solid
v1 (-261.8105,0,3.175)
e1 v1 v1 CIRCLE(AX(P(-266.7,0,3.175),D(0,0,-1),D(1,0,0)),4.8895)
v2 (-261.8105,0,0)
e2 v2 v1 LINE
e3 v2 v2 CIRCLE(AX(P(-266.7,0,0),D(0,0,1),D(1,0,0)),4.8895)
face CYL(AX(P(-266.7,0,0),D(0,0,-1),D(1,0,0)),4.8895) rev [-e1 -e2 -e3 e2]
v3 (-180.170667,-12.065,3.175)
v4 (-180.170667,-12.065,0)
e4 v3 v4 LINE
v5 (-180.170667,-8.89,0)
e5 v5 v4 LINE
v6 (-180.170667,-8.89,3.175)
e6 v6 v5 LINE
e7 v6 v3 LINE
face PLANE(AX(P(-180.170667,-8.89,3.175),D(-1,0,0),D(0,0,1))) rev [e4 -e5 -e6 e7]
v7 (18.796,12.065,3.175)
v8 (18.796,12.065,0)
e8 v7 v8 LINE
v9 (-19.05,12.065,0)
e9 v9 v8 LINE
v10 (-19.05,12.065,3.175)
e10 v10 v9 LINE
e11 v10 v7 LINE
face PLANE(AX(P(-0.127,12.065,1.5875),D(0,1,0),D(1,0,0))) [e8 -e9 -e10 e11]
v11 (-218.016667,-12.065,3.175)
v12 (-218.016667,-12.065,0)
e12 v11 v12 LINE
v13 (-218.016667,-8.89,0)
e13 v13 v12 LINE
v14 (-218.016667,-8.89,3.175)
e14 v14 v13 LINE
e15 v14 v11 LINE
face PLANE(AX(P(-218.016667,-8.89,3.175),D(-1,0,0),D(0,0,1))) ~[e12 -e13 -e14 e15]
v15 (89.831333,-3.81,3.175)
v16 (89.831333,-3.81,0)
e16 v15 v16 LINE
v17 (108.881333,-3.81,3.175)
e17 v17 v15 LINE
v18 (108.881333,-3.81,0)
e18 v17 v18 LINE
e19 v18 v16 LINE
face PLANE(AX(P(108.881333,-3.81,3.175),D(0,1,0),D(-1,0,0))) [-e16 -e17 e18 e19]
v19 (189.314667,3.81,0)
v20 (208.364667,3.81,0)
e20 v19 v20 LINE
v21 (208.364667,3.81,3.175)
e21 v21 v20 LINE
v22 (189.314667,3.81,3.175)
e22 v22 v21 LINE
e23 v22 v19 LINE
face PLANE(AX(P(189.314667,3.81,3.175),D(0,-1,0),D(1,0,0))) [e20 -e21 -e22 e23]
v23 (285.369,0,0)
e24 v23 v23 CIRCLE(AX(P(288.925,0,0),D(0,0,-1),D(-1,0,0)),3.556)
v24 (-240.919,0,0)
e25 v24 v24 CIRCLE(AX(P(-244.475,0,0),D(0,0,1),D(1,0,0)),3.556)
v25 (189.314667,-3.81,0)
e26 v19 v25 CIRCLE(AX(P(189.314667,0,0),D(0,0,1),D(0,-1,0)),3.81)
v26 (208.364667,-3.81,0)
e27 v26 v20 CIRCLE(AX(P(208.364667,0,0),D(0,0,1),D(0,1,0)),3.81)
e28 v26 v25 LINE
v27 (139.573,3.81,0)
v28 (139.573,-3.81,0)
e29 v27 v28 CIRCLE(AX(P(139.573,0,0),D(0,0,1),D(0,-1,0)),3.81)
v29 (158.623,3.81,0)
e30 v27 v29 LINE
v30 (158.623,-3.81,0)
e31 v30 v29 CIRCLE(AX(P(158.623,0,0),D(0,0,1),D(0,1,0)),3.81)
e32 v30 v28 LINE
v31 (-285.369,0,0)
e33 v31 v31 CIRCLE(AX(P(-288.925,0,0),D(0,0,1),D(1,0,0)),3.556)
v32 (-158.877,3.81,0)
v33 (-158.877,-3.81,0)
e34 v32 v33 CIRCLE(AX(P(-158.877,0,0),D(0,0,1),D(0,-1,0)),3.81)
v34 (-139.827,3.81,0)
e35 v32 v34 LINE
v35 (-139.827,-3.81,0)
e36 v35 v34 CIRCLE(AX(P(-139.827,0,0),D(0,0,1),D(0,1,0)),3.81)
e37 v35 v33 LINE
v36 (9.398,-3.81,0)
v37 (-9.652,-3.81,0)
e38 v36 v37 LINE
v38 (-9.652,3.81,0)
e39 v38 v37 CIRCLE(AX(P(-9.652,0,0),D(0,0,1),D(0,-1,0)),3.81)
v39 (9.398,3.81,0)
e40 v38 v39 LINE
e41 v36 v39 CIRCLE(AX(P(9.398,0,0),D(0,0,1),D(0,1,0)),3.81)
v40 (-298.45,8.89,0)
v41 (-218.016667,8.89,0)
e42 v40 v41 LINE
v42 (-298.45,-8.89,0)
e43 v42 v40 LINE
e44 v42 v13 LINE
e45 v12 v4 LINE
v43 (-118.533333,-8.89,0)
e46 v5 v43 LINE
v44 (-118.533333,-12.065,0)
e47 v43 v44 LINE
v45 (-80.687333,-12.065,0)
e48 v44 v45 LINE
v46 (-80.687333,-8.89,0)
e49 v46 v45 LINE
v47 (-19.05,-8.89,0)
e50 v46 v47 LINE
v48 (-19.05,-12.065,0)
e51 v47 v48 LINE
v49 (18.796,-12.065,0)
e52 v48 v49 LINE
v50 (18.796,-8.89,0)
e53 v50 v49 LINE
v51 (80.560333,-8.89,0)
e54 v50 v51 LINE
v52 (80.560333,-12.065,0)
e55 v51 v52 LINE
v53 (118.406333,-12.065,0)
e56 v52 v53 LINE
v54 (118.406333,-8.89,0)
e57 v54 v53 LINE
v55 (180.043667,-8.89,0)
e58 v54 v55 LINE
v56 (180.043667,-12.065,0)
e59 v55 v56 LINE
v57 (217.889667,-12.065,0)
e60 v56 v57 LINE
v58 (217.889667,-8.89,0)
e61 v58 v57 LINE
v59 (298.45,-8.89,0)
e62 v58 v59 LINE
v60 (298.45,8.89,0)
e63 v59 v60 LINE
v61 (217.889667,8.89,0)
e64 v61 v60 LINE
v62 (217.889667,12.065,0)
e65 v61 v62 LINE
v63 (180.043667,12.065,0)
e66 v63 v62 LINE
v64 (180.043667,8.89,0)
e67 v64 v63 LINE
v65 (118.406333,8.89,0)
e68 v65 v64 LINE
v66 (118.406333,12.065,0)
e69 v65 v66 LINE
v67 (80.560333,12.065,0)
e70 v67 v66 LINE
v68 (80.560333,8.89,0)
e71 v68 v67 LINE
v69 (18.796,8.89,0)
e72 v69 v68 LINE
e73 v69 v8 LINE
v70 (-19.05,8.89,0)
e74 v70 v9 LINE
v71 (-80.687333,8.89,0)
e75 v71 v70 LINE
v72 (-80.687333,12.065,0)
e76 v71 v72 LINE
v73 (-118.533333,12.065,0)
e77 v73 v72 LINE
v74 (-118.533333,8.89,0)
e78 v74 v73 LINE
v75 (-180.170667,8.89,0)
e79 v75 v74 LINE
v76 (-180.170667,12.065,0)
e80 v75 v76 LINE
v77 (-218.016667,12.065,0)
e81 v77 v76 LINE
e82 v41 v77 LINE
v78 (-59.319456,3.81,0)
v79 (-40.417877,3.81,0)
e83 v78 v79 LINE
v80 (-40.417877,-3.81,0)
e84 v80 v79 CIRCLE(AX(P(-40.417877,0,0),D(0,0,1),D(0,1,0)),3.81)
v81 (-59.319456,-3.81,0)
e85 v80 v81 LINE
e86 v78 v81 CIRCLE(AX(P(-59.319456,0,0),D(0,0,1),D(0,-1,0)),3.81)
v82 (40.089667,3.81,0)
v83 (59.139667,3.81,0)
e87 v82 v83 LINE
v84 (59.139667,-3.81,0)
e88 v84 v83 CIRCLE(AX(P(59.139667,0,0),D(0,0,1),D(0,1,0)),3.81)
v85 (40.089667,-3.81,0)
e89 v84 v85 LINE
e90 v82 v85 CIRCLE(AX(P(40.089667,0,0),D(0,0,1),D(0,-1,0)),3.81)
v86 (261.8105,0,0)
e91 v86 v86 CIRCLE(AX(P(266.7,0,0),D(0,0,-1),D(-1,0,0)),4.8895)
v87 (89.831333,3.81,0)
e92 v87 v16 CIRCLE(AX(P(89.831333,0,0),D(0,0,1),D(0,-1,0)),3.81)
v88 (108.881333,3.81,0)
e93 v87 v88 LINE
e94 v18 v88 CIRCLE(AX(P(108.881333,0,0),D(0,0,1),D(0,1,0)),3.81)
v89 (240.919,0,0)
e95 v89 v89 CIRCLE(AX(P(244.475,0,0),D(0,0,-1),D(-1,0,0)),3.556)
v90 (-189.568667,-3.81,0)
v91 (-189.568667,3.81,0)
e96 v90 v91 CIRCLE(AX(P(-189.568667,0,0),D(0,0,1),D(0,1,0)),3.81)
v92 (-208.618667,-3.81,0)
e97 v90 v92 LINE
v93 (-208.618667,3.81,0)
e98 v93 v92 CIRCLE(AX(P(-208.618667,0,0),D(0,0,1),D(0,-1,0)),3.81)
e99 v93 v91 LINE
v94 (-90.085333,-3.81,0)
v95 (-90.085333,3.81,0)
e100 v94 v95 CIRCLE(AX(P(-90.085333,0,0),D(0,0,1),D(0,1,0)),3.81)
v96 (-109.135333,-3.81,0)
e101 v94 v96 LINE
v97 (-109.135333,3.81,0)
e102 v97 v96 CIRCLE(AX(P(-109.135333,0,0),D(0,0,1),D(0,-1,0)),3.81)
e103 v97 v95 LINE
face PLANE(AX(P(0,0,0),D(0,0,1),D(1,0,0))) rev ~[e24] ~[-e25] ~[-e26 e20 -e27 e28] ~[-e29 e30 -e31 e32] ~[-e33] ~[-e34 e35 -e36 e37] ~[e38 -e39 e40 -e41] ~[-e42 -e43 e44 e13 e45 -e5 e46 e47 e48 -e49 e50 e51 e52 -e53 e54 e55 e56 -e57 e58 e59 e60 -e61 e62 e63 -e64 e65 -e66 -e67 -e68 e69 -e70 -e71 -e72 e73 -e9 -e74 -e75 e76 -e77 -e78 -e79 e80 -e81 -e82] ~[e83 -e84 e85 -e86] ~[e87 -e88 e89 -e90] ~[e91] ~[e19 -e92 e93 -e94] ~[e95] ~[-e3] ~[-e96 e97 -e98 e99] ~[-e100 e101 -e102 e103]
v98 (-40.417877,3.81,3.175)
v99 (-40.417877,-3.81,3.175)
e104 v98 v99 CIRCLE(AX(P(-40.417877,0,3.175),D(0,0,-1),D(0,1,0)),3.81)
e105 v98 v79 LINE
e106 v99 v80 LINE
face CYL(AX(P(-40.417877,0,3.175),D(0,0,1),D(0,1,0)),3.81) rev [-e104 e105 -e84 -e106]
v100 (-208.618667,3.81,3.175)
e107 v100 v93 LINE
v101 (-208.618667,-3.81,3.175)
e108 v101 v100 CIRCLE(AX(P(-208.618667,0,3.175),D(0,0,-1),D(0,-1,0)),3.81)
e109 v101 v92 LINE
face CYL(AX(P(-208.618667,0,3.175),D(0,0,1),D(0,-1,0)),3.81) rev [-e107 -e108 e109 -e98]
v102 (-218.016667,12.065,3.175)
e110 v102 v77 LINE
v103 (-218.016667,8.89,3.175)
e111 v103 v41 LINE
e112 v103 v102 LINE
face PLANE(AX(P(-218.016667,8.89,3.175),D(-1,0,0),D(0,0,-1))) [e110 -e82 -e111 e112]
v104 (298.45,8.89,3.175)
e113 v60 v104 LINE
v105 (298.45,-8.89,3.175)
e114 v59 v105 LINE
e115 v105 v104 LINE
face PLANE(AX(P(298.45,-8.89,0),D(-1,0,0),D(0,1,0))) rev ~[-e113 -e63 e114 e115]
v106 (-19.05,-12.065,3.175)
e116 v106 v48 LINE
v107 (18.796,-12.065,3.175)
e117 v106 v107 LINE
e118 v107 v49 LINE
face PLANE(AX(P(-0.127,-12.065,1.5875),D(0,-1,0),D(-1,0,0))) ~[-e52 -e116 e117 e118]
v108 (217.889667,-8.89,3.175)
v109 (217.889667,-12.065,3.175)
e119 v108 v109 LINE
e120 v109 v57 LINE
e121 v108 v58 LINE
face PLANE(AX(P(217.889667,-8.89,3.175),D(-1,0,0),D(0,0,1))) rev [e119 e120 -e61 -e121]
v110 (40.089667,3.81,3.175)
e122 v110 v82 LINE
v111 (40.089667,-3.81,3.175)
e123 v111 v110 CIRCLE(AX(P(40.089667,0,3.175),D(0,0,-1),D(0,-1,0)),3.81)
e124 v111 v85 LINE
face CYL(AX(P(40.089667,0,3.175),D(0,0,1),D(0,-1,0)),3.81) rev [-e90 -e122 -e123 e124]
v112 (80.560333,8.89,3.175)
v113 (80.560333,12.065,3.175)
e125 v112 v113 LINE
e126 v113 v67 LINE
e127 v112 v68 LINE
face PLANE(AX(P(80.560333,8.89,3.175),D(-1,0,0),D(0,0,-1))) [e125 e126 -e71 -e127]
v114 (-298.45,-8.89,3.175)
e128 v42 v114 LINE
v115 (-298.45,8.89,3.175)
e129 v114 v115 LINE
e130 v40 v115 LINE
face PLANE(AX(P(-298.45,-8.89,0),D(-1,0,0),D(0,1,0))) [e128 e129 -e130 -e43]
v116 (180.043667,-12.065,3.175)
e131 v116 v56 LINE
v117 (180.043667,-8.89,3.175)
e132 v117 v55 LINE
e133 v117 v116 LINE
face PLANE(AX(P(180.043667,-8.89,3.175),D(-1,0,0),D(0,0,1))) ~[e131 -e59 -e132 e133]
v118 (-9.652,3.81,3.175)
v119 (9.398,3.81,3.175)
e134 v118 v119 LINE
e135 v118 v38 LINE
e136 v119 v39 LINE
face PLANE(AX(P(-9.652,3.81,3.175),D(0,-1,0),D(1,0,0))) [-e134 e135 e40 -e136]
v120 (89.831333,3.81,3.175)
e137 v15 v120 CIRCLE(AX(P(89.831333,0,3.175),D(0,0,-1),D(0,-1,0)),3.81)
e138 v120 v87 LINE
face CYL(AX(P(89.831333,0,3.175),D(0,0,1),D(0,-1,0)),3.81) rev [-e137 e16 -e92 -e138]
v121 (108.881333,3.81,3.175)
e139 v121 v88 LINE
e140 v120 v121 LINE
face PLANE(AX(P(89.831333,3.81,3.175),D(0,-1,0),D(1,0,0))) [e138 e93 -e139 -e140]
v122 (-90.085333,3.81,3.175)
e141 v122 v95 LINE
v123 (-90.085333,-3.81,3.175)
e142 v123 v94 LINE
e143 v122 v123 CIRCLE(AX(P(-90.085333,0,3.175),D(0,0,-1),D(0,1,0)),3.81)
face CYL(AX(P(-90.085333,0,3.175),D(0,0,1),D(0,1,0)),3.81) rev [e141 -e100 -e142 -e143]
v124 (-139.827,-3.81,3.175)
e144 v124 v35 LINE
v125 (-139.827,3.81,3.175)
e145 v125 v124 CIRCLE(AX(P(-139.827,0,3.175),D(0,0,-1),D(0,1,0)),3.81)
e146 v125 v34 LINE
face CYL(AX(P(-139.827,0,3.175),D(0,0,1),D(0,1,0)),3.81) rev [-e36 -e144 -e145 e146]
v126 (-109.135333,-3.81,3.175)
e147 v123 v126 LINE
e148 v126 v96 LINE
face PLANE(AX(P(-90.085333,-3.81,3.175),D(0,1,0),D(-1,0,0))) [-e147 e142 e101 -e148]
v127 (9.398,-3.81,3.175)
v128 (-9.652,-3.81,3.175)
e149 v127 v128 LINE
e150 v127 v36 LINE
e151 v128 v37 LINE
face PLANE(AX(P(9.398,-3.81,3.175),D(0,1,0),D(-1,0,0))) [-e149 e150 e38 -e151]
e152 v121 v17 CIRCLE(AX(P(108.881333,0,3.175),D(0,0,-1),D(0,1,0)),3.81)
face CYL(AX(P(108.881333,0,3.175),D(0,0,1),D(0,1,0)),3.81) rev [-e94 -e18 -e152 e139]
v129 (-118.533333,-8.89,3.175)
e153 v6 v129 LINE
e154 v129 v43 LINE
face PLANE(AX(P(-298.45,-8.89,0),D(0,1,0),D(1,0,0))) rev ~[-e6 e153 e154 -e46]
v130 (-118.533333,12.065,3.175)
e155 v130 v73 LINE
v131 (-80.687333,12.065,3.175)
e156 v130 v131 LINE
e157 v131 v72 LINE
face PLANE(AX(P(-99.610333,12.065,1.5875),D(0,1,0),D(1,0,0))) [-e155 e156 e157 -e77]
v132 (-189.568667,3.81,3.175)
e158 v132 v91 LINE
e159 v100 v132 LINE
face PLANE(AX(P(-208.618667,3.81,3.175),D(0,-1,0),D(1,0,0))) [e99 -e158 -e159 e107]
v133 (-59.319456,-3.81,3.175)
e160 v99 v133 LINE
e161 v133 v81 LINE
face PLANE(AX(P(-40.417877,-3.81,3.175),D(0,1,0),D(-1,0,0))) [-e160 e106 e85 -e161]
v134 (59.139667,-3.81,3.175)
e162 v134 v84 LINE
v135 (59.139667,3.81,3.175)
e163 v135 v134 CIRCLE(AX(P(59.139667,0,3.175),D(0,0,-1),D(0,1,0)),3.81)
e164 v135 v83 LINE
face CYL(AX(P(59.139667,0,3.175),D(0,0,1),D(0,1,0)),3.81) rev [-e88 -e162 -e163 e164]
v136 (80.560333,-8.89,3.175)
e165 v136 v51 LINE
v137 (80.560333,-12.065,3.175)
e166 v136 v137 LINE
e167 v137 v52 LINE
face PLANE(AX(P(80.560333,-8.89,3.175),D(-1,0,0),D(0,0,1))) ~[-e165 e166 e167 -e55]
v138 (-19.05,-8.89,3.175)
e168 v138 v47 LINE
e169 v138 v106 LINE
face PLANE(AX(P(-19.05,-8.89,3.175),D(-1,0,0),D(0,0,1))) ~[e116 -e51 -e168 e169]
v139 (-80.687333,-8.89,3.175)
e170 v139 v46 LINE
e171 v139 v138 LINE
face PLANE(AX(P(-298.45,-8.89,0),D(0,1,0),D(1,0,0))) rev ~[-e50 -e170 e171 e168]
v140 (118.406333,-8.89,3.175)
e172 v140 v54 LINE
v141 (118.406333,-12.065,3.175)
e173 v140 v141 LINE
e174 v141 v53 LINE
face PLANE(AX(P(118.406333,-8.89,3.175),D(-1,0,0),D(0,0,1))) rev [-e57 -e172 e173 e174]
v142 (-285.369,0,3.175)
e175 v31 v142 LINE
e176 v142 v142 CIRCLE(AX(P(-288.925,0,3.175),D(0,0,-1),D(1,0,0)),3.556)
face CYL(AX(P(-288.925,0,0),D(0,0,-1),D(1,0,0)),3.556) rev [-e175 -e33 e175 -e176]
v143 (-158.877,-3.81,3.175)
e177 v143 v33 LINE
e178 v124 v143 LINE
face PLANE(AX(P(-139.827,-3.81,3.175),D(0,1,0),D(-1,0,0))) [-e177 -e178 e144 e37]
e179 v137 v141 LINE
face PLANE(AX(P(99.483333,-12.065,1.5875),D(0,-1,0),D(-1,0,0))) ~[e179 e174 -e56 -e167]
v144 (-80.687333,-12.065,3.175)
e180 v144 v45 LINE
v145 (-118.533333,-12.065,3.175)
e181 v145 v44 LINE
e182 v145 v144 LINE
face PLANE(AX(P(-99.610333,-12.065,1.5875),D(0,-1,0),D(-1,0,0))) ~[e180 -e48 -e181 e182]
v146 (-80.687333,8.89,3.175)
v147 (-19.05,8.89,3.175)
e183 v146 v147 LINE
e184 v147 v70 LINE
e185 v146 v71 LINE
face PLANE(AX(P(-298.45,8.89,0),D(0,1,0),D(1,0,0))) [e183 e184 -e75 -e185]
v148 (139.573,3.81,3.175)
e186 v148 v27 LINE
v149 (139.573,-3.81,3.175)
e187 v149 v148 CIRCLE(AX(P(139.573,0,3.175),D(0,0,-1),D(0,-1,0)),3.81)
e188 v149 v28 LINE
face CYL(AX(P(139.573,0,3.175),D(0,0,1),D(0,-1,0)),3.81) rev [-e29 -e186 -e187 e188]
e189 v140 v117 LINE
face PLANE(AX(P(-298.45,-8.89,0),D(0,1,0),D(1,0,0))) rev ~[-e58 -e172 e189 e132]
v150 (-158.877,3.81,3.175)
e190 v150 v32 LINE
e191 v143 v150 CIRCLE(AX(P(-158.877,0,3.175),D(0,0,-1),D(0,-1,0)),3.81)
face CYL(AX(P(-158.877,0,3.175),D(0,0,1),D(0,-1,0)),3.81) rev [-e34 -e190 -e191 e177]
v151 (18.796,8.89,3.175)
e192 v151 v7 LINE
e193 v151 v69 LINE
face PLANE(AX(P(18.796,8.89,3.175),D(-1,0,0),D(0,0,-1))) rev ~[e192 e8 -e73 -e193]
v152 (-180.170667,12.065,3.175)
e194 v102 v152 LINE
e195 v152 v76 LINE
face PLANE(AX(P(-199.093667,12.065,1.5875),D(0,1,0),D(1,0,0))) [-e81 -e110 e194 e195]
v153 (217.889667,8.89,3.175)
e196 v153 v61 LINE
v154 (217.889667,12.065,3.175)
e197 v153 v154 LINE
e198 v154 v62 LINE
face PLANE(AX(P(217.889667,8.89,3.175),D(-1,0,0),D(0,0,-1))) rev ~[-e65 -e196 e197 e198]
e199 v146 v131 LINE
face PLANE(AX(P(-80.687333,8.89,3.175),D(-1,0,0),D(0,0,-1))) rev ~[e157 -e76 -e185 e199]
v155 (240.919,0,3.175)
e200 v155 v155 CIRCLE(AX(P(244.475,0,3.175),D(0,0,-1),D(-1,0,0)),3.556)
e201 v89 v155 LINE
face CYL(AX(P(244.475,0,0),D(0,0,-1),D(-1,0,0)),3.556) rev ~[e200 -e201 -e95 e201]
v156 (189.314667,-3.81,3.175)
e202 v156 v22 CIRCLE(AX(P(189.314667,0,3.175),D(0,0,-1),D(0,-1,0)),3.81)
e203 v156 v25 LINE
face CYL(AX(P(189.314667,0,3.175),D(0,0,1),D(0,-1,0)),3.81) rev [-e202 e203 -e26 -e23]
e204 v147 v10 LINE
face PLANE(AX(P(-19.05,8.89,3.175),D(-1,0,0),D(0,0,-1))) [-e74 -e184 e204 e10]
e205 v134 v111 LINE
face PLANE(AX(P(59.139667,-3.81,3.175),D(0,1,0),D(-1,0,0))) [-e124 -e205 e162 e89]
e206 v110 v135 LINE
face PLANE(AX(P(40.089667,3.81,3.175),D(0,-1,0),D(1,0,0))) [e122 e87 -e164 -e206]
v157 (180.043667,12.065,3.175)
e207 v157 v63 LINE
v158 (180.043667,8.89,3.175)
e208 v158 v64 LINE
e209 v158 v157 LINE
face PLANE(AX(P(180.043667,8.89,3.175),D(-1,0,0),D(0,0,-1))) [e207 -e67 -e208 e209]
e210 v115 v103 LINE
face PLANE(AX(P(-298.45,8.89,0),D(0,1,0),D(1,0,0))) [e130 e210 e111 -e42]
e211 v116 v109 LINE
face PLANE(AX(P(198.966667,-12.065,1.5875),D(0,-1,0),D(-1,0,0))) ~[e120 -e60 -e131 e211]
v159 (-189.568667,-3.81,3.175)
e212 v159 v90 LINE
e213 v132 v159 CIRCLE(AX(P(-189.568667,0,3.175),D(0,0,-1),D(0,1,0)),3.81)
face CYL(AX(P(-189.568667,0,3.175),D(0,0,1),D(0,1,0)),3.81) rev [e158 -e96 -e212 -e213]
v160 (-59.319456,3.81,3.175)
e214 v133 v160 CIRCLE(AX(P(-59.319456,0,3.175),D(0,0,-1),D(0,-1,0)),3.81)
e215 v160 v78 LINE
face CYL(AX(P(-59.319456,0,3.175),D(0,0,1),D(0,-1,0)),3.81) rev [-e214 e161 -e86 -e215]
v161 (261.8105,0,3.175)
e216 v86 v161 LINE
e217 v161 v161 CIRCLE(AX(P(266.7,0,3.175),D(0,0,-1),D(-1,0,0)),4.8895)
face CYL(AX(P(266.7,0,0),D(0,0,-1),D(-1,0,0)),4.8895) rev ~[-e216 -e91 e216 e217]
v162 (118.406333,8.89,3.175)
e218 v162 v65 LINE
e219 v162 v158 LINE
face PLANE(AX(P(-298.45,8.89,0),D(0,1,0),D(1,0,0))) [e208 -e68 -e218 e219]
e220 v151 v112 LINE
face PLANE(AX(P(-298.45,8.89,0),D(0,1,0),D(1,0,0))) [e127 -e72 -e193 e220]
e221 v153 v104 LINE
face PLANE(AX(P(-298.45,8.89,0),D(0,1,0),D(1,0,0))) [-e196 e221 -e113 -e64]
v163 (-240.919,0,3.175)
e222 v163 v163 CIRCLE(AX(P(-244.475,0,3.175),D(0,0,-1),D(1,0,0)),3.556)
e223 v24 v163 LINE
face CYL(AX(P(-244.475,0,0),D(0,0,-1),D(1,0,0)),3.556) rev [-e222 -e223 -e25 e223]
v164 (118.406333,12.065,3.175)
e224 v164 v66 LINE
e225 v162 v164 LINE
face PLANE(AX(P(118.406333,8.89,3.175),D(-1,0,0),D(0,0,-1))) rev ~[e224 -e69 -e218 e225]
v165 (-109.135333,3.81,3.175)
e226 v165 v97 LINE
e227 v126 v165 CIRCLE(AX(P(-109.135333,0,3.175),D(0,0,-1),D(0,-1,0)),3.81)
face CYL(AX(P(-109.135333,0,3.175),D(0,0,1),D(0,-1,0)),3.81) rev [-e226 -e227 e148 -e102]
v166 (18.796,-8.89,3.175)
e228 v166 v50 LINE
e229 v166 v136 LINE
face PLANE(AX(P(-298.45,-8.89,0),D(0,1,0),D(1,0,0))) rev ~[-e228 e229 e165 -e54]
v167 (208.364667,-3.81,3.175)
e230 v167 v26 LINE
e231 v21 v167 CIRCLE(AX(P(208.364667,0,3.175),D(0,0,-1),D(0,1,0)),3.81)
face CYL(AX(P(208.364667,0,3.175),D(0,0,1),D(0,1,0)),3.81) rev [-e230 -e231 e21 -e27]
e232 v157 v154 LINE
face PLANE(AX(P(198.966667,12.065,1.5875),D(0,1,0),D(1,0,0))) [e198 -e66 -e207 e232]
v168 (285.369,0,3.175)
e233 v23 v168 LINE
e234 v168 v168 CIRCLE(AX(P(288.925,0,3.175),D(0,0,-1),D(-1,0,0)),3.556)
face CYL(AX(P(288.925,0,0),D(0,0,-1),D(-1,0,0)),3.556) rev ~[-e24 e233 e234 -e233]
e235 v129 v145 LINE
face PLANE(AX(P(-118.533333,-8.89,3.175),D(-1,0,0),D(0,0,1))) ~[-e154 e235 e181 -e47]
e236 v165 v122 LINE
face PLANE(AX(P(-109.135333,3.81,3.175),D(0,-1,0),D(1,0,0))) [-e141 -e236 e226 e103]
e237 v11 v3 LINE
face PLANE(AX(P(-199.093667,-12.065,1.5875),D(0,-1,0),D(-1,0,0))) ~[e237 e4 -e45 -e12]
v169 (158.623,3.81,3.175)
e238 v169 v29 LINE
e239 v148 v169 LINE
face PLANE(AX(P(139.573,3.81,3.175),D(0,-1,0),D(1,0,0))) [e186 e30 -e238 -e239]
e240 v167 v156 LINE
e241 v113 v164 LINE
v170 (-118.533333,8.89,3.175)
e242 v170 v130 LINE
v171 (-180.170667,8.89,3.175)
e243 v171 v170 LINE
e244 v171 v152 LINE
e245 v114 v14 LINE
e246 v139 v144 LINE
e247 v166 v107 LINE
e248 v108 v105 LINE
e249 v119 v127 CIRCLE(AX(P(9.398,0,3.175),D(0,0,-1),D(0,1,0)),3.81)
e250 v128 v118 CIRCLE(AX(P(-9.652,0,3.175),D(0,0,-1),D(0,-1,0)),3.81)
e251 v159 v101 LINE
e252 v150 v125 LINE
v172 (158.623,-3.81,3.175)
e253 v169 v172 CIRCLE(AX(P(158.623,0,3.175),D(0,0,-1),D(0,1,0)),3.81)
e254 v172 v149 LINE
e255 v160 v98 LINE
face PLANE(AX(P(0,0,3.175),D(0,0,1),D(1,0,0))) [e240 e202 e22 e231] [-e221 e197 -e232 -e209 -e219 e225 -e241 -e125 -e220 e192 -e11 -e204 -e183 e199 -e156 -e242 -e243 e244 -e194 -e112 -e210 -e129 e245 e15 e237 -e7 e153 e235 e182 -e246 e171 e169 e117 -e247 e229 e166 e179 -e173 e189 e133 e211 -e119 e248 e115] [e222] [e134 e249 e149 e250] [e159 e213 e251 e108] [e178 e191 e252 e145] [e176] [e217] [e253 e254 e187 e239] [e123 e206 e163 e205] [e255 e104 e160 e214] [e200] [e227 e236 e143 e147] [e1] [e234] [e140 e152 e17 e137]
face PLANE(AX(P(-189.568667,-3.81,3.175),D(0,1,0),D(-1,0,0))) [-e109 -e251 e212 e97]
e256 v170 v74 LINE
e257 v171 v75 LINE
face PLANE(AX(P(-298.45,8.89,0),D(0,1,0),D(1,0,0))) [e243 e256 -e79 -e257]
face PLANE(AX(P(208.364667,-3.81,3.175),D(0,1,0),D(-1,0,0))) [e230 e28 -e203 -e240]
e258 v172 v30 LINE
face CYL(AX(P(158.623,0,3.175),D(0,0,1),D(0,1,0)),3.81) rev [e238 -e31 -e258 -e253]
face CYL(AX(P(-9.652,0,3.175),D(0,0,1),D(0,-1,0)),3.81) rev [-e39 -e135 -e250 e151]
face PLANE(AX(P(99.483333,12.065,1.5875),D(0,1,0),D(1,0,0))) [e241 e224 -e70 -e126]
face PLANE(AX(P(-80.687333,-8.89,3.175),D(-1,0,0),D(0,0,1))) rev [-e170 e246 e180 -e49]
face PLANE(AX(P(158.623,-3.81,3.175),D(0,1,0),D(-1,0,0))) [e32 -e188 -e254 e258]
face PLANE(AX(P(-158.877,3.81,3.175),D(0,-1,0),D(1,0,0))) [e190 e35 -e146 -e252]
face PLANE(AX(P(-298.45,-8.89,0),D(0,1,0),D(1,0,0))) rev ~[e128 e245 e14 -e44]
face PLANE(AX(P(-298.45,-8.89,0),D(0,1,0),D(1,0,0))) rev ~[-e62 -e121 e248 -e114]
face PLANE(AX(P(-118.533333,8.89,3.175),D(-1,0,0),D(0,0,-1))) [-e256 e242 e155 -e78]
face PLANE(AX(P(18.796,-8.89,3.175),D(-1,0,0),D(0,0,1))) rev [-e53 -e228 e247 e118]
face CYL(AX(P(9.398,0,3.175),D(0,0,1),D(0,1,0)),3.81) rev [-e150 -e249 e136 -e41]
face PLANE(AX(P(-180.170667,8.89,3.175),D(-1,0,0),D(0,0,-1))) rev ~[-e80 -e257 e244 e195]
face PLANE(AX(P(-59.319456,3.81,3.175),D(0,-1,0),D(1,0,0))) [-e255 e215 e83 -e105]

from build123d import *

# Parameters (mm, degrees)
SKETCH1_W           = 596.9
SKETCH1_H           = 17.78
BOSS_EXTRUDE1_DEPTH = 3.175
SKETCH3_W           = 37.846
SKETCH3_H           = 3.175
BOSS_EXTRUDE2_DEPTH = 3.175
SKETCH4_R           = 3.556
SKETCH4_R_2         = 4.8895
CUT_EXTRUDE1_DEPTH  = 299.710641508
CUT_EXTRUDE3_DEPTH  = 299.710641508


with BuildPart() as part:
    # Sketch1 → Boss-Extrude1 (new body)
    with BuildSketch(Plane.XY):
        Rectangle(SKETCH1_W, SKETCH1_H)
    extrude(amount=BOSS_EXTRUDE1_DEPTH)

    # Sketch3 → Boss-Extrude2 (add)
    with BuildSketch(Plane(origin=(0, 8.89, 0), x_dir=(1, 0, 0), z_dir=(0, 1, 0))):
        with Locations((-199.093666667, -1.5875)):
            Rectangle(SKETCH3_W, SKETCH3_H)
        with Locations((-99.610333333, -1.5875)):
            Rectangle(SKETCH3_W, SKETCH3_H)
        with Locations((-0.127, -1.5875)):
            Rectangle(SKETCH3_W, SKETCH3_H)
        with Locations((99.483333333, -1.5875)):
            Rectangle(SKETCH3_W, SKETCH3_H)
        with Locations((198.966666751, -1.5875)):
            Rectangle(SKETCH3_W, SKETCH3_H)
    boss_extrude2 = extrude(amount=BOSS_EXTRUDE2_DEPTH)

    # Mirror1: Boss-Extrude2 across plane
    add(boss_extrude2.mirror(Plane.ZX))

    # Sketch4 → Cut-Extrude1 (cut, through all)
    with BuildSketch(Plane(origin=(0, 0, 0), x_dir=(-1, 0, 0), z_dir=(0, 0, -1))):
        with Locations((-288.925, 0)):
            Circle(SKETCH4_R)
        with Locations((-244.475, 0)):
            Circle(SKETCH4_R)
        with Locations((-266.7, 0)):
            Circle(SKETCH4_R_2)
    cut_extrude1 = extrude(amount=-CUT_EXTRUDE1_DEPTH, mode=Mode.SUBTRACT)

    # Mirror2: Cut-Extrude1 across plane
    add(cut_extrude1.mirror(Plane(origin=(0, 0, 0), x_dir=(0, 0, 1), z_dir=(1, 0, 0))), mode=Mode.SUBTRACT)

    # Sketch6 → Cut-Extrude3 (cut, through all)
    with BuildSketch(Plane.XY.offset(3.175)):
        with BuildLine():
            Line((-208.618666667, 3.81), (-189.568666667, 3.81))
            ThreePointArc((-189.568666667, 3.81), (-185.758666667, 0), (-189.568666667, -3.81))
            Line((-189.568666667, -3.81), (-208.618666667, -3.81))
            ThreePointArc((-208.618666667, -3.81), (-212.428666667, 0), (-208.618666667, 3.81))
        make_face()
        with BuildLine():
            Line((-109.135333333, 3.81), (-90.085333333, 3.81))
            ThreePointArc((-90.085333333, 3.81), (-86.275333333, 0), (-90.085333333, -3.81))
            Line((-90.085333333, -3.81), (-109.135333333, -3.81))
            ThreePointArc((-109.135333333, -3.81), (-112.945333333, 0), (-109.135333333, 3.81))
        make_face()
        with BuildLine():
            Line((-9.652, 3.81), (9.398, 3.81))
            ThreePointArc((9.398, 3.81), (13.208, 0), (9.398, -3.81))
            Line((9.398, -3.81), (-9.652, -3.81))
            ThreePointArc((-9.652, -3.81), (-13.462, 0), (-9.652, 3.81))
        make_face()
        with BuildLine():
            Line((89.831333333, 3.81), (108.881333333, 3.81))
            ThreePointArc((108.881333333, 3.81), (112.691333333, 0), (108.881333333, -3.81))
            Line((108.881333333, -3.81), (89.831333333, -3.81))
            ThreePointArc((89.831333333, -3.81), (86.021333333, 0), (89.831333333, 3.81))
        make_face()
        with BuildLine():
            Line((189.314666667, 3.81), (208.364666667, 3.81))
            ThreePointArc((208.364666667, 3.81), (212.174666667, 0), (208.364666667, -3.81))
            Line((208.364666667, -3.81), (189.314666667, -3.81))
            ThreePointArc((189.314666667, -3.81), (185.504666667, 0), (189.314666667, 3.81))
        make_face()
        with BuildLine():
            Line((-158.877, 3.81), (-139.827, 3.81))
            ThreePointArc((-139.827, 3.81), (-136.017, 0), (-139.827, -3.81))
            Line((-139.827, -3.81), (-158.877, -3.81))
            ThreePointArc((-158.877, -3.81), (-162.687, 0), (-158.877, 3.81))
        make_face()
        with BuildLine():
            Line((-59.319456458, 3.81), (-40.417876875, 3.81))
            ThreePointArc((-40.417876875, 3.81), (-36.607876875, 0), (-40.417876875, -3.81))
            Line((-40.417876875, -3.81), (-59.319456458, -3.81))
            ThreePointArc((-59.319456458, -3.81), (-63.129456458, 0), (-59.319456458, 3.81))
        make_face()
        with BuildLine():
            Line((40.089666667, 3.81), (59.139666667, 3.81))
            ThreePointArc((59.139666667, 3.81), (62.949666667, 0), (59.139666667, -3.81))
            Line((59.139666667, -3.81), (40.089666667, -3.81))
            ThreePointArc((40.089666667, -3.81), (36.279666667, 0), (40.089666667, 3.81))
        make_face()
        with BuildLine():
            Line((139.573, 3.81), (158.623, 3.81))
            ThreePointArc((158.623, 3.81), (162.433, 0), (158.623, -3.81))
            Line((158.623, -3.81), (139.573, -3.81))
            ThreePointArc((139.573, -3.81), (135.763, 0), (139.573, 3.81))
        make_face()
    extrude(amount=-CUT_EXTRUDE3_DEPTH, mode=Mode.SUBTRACT)


solid = part.part
